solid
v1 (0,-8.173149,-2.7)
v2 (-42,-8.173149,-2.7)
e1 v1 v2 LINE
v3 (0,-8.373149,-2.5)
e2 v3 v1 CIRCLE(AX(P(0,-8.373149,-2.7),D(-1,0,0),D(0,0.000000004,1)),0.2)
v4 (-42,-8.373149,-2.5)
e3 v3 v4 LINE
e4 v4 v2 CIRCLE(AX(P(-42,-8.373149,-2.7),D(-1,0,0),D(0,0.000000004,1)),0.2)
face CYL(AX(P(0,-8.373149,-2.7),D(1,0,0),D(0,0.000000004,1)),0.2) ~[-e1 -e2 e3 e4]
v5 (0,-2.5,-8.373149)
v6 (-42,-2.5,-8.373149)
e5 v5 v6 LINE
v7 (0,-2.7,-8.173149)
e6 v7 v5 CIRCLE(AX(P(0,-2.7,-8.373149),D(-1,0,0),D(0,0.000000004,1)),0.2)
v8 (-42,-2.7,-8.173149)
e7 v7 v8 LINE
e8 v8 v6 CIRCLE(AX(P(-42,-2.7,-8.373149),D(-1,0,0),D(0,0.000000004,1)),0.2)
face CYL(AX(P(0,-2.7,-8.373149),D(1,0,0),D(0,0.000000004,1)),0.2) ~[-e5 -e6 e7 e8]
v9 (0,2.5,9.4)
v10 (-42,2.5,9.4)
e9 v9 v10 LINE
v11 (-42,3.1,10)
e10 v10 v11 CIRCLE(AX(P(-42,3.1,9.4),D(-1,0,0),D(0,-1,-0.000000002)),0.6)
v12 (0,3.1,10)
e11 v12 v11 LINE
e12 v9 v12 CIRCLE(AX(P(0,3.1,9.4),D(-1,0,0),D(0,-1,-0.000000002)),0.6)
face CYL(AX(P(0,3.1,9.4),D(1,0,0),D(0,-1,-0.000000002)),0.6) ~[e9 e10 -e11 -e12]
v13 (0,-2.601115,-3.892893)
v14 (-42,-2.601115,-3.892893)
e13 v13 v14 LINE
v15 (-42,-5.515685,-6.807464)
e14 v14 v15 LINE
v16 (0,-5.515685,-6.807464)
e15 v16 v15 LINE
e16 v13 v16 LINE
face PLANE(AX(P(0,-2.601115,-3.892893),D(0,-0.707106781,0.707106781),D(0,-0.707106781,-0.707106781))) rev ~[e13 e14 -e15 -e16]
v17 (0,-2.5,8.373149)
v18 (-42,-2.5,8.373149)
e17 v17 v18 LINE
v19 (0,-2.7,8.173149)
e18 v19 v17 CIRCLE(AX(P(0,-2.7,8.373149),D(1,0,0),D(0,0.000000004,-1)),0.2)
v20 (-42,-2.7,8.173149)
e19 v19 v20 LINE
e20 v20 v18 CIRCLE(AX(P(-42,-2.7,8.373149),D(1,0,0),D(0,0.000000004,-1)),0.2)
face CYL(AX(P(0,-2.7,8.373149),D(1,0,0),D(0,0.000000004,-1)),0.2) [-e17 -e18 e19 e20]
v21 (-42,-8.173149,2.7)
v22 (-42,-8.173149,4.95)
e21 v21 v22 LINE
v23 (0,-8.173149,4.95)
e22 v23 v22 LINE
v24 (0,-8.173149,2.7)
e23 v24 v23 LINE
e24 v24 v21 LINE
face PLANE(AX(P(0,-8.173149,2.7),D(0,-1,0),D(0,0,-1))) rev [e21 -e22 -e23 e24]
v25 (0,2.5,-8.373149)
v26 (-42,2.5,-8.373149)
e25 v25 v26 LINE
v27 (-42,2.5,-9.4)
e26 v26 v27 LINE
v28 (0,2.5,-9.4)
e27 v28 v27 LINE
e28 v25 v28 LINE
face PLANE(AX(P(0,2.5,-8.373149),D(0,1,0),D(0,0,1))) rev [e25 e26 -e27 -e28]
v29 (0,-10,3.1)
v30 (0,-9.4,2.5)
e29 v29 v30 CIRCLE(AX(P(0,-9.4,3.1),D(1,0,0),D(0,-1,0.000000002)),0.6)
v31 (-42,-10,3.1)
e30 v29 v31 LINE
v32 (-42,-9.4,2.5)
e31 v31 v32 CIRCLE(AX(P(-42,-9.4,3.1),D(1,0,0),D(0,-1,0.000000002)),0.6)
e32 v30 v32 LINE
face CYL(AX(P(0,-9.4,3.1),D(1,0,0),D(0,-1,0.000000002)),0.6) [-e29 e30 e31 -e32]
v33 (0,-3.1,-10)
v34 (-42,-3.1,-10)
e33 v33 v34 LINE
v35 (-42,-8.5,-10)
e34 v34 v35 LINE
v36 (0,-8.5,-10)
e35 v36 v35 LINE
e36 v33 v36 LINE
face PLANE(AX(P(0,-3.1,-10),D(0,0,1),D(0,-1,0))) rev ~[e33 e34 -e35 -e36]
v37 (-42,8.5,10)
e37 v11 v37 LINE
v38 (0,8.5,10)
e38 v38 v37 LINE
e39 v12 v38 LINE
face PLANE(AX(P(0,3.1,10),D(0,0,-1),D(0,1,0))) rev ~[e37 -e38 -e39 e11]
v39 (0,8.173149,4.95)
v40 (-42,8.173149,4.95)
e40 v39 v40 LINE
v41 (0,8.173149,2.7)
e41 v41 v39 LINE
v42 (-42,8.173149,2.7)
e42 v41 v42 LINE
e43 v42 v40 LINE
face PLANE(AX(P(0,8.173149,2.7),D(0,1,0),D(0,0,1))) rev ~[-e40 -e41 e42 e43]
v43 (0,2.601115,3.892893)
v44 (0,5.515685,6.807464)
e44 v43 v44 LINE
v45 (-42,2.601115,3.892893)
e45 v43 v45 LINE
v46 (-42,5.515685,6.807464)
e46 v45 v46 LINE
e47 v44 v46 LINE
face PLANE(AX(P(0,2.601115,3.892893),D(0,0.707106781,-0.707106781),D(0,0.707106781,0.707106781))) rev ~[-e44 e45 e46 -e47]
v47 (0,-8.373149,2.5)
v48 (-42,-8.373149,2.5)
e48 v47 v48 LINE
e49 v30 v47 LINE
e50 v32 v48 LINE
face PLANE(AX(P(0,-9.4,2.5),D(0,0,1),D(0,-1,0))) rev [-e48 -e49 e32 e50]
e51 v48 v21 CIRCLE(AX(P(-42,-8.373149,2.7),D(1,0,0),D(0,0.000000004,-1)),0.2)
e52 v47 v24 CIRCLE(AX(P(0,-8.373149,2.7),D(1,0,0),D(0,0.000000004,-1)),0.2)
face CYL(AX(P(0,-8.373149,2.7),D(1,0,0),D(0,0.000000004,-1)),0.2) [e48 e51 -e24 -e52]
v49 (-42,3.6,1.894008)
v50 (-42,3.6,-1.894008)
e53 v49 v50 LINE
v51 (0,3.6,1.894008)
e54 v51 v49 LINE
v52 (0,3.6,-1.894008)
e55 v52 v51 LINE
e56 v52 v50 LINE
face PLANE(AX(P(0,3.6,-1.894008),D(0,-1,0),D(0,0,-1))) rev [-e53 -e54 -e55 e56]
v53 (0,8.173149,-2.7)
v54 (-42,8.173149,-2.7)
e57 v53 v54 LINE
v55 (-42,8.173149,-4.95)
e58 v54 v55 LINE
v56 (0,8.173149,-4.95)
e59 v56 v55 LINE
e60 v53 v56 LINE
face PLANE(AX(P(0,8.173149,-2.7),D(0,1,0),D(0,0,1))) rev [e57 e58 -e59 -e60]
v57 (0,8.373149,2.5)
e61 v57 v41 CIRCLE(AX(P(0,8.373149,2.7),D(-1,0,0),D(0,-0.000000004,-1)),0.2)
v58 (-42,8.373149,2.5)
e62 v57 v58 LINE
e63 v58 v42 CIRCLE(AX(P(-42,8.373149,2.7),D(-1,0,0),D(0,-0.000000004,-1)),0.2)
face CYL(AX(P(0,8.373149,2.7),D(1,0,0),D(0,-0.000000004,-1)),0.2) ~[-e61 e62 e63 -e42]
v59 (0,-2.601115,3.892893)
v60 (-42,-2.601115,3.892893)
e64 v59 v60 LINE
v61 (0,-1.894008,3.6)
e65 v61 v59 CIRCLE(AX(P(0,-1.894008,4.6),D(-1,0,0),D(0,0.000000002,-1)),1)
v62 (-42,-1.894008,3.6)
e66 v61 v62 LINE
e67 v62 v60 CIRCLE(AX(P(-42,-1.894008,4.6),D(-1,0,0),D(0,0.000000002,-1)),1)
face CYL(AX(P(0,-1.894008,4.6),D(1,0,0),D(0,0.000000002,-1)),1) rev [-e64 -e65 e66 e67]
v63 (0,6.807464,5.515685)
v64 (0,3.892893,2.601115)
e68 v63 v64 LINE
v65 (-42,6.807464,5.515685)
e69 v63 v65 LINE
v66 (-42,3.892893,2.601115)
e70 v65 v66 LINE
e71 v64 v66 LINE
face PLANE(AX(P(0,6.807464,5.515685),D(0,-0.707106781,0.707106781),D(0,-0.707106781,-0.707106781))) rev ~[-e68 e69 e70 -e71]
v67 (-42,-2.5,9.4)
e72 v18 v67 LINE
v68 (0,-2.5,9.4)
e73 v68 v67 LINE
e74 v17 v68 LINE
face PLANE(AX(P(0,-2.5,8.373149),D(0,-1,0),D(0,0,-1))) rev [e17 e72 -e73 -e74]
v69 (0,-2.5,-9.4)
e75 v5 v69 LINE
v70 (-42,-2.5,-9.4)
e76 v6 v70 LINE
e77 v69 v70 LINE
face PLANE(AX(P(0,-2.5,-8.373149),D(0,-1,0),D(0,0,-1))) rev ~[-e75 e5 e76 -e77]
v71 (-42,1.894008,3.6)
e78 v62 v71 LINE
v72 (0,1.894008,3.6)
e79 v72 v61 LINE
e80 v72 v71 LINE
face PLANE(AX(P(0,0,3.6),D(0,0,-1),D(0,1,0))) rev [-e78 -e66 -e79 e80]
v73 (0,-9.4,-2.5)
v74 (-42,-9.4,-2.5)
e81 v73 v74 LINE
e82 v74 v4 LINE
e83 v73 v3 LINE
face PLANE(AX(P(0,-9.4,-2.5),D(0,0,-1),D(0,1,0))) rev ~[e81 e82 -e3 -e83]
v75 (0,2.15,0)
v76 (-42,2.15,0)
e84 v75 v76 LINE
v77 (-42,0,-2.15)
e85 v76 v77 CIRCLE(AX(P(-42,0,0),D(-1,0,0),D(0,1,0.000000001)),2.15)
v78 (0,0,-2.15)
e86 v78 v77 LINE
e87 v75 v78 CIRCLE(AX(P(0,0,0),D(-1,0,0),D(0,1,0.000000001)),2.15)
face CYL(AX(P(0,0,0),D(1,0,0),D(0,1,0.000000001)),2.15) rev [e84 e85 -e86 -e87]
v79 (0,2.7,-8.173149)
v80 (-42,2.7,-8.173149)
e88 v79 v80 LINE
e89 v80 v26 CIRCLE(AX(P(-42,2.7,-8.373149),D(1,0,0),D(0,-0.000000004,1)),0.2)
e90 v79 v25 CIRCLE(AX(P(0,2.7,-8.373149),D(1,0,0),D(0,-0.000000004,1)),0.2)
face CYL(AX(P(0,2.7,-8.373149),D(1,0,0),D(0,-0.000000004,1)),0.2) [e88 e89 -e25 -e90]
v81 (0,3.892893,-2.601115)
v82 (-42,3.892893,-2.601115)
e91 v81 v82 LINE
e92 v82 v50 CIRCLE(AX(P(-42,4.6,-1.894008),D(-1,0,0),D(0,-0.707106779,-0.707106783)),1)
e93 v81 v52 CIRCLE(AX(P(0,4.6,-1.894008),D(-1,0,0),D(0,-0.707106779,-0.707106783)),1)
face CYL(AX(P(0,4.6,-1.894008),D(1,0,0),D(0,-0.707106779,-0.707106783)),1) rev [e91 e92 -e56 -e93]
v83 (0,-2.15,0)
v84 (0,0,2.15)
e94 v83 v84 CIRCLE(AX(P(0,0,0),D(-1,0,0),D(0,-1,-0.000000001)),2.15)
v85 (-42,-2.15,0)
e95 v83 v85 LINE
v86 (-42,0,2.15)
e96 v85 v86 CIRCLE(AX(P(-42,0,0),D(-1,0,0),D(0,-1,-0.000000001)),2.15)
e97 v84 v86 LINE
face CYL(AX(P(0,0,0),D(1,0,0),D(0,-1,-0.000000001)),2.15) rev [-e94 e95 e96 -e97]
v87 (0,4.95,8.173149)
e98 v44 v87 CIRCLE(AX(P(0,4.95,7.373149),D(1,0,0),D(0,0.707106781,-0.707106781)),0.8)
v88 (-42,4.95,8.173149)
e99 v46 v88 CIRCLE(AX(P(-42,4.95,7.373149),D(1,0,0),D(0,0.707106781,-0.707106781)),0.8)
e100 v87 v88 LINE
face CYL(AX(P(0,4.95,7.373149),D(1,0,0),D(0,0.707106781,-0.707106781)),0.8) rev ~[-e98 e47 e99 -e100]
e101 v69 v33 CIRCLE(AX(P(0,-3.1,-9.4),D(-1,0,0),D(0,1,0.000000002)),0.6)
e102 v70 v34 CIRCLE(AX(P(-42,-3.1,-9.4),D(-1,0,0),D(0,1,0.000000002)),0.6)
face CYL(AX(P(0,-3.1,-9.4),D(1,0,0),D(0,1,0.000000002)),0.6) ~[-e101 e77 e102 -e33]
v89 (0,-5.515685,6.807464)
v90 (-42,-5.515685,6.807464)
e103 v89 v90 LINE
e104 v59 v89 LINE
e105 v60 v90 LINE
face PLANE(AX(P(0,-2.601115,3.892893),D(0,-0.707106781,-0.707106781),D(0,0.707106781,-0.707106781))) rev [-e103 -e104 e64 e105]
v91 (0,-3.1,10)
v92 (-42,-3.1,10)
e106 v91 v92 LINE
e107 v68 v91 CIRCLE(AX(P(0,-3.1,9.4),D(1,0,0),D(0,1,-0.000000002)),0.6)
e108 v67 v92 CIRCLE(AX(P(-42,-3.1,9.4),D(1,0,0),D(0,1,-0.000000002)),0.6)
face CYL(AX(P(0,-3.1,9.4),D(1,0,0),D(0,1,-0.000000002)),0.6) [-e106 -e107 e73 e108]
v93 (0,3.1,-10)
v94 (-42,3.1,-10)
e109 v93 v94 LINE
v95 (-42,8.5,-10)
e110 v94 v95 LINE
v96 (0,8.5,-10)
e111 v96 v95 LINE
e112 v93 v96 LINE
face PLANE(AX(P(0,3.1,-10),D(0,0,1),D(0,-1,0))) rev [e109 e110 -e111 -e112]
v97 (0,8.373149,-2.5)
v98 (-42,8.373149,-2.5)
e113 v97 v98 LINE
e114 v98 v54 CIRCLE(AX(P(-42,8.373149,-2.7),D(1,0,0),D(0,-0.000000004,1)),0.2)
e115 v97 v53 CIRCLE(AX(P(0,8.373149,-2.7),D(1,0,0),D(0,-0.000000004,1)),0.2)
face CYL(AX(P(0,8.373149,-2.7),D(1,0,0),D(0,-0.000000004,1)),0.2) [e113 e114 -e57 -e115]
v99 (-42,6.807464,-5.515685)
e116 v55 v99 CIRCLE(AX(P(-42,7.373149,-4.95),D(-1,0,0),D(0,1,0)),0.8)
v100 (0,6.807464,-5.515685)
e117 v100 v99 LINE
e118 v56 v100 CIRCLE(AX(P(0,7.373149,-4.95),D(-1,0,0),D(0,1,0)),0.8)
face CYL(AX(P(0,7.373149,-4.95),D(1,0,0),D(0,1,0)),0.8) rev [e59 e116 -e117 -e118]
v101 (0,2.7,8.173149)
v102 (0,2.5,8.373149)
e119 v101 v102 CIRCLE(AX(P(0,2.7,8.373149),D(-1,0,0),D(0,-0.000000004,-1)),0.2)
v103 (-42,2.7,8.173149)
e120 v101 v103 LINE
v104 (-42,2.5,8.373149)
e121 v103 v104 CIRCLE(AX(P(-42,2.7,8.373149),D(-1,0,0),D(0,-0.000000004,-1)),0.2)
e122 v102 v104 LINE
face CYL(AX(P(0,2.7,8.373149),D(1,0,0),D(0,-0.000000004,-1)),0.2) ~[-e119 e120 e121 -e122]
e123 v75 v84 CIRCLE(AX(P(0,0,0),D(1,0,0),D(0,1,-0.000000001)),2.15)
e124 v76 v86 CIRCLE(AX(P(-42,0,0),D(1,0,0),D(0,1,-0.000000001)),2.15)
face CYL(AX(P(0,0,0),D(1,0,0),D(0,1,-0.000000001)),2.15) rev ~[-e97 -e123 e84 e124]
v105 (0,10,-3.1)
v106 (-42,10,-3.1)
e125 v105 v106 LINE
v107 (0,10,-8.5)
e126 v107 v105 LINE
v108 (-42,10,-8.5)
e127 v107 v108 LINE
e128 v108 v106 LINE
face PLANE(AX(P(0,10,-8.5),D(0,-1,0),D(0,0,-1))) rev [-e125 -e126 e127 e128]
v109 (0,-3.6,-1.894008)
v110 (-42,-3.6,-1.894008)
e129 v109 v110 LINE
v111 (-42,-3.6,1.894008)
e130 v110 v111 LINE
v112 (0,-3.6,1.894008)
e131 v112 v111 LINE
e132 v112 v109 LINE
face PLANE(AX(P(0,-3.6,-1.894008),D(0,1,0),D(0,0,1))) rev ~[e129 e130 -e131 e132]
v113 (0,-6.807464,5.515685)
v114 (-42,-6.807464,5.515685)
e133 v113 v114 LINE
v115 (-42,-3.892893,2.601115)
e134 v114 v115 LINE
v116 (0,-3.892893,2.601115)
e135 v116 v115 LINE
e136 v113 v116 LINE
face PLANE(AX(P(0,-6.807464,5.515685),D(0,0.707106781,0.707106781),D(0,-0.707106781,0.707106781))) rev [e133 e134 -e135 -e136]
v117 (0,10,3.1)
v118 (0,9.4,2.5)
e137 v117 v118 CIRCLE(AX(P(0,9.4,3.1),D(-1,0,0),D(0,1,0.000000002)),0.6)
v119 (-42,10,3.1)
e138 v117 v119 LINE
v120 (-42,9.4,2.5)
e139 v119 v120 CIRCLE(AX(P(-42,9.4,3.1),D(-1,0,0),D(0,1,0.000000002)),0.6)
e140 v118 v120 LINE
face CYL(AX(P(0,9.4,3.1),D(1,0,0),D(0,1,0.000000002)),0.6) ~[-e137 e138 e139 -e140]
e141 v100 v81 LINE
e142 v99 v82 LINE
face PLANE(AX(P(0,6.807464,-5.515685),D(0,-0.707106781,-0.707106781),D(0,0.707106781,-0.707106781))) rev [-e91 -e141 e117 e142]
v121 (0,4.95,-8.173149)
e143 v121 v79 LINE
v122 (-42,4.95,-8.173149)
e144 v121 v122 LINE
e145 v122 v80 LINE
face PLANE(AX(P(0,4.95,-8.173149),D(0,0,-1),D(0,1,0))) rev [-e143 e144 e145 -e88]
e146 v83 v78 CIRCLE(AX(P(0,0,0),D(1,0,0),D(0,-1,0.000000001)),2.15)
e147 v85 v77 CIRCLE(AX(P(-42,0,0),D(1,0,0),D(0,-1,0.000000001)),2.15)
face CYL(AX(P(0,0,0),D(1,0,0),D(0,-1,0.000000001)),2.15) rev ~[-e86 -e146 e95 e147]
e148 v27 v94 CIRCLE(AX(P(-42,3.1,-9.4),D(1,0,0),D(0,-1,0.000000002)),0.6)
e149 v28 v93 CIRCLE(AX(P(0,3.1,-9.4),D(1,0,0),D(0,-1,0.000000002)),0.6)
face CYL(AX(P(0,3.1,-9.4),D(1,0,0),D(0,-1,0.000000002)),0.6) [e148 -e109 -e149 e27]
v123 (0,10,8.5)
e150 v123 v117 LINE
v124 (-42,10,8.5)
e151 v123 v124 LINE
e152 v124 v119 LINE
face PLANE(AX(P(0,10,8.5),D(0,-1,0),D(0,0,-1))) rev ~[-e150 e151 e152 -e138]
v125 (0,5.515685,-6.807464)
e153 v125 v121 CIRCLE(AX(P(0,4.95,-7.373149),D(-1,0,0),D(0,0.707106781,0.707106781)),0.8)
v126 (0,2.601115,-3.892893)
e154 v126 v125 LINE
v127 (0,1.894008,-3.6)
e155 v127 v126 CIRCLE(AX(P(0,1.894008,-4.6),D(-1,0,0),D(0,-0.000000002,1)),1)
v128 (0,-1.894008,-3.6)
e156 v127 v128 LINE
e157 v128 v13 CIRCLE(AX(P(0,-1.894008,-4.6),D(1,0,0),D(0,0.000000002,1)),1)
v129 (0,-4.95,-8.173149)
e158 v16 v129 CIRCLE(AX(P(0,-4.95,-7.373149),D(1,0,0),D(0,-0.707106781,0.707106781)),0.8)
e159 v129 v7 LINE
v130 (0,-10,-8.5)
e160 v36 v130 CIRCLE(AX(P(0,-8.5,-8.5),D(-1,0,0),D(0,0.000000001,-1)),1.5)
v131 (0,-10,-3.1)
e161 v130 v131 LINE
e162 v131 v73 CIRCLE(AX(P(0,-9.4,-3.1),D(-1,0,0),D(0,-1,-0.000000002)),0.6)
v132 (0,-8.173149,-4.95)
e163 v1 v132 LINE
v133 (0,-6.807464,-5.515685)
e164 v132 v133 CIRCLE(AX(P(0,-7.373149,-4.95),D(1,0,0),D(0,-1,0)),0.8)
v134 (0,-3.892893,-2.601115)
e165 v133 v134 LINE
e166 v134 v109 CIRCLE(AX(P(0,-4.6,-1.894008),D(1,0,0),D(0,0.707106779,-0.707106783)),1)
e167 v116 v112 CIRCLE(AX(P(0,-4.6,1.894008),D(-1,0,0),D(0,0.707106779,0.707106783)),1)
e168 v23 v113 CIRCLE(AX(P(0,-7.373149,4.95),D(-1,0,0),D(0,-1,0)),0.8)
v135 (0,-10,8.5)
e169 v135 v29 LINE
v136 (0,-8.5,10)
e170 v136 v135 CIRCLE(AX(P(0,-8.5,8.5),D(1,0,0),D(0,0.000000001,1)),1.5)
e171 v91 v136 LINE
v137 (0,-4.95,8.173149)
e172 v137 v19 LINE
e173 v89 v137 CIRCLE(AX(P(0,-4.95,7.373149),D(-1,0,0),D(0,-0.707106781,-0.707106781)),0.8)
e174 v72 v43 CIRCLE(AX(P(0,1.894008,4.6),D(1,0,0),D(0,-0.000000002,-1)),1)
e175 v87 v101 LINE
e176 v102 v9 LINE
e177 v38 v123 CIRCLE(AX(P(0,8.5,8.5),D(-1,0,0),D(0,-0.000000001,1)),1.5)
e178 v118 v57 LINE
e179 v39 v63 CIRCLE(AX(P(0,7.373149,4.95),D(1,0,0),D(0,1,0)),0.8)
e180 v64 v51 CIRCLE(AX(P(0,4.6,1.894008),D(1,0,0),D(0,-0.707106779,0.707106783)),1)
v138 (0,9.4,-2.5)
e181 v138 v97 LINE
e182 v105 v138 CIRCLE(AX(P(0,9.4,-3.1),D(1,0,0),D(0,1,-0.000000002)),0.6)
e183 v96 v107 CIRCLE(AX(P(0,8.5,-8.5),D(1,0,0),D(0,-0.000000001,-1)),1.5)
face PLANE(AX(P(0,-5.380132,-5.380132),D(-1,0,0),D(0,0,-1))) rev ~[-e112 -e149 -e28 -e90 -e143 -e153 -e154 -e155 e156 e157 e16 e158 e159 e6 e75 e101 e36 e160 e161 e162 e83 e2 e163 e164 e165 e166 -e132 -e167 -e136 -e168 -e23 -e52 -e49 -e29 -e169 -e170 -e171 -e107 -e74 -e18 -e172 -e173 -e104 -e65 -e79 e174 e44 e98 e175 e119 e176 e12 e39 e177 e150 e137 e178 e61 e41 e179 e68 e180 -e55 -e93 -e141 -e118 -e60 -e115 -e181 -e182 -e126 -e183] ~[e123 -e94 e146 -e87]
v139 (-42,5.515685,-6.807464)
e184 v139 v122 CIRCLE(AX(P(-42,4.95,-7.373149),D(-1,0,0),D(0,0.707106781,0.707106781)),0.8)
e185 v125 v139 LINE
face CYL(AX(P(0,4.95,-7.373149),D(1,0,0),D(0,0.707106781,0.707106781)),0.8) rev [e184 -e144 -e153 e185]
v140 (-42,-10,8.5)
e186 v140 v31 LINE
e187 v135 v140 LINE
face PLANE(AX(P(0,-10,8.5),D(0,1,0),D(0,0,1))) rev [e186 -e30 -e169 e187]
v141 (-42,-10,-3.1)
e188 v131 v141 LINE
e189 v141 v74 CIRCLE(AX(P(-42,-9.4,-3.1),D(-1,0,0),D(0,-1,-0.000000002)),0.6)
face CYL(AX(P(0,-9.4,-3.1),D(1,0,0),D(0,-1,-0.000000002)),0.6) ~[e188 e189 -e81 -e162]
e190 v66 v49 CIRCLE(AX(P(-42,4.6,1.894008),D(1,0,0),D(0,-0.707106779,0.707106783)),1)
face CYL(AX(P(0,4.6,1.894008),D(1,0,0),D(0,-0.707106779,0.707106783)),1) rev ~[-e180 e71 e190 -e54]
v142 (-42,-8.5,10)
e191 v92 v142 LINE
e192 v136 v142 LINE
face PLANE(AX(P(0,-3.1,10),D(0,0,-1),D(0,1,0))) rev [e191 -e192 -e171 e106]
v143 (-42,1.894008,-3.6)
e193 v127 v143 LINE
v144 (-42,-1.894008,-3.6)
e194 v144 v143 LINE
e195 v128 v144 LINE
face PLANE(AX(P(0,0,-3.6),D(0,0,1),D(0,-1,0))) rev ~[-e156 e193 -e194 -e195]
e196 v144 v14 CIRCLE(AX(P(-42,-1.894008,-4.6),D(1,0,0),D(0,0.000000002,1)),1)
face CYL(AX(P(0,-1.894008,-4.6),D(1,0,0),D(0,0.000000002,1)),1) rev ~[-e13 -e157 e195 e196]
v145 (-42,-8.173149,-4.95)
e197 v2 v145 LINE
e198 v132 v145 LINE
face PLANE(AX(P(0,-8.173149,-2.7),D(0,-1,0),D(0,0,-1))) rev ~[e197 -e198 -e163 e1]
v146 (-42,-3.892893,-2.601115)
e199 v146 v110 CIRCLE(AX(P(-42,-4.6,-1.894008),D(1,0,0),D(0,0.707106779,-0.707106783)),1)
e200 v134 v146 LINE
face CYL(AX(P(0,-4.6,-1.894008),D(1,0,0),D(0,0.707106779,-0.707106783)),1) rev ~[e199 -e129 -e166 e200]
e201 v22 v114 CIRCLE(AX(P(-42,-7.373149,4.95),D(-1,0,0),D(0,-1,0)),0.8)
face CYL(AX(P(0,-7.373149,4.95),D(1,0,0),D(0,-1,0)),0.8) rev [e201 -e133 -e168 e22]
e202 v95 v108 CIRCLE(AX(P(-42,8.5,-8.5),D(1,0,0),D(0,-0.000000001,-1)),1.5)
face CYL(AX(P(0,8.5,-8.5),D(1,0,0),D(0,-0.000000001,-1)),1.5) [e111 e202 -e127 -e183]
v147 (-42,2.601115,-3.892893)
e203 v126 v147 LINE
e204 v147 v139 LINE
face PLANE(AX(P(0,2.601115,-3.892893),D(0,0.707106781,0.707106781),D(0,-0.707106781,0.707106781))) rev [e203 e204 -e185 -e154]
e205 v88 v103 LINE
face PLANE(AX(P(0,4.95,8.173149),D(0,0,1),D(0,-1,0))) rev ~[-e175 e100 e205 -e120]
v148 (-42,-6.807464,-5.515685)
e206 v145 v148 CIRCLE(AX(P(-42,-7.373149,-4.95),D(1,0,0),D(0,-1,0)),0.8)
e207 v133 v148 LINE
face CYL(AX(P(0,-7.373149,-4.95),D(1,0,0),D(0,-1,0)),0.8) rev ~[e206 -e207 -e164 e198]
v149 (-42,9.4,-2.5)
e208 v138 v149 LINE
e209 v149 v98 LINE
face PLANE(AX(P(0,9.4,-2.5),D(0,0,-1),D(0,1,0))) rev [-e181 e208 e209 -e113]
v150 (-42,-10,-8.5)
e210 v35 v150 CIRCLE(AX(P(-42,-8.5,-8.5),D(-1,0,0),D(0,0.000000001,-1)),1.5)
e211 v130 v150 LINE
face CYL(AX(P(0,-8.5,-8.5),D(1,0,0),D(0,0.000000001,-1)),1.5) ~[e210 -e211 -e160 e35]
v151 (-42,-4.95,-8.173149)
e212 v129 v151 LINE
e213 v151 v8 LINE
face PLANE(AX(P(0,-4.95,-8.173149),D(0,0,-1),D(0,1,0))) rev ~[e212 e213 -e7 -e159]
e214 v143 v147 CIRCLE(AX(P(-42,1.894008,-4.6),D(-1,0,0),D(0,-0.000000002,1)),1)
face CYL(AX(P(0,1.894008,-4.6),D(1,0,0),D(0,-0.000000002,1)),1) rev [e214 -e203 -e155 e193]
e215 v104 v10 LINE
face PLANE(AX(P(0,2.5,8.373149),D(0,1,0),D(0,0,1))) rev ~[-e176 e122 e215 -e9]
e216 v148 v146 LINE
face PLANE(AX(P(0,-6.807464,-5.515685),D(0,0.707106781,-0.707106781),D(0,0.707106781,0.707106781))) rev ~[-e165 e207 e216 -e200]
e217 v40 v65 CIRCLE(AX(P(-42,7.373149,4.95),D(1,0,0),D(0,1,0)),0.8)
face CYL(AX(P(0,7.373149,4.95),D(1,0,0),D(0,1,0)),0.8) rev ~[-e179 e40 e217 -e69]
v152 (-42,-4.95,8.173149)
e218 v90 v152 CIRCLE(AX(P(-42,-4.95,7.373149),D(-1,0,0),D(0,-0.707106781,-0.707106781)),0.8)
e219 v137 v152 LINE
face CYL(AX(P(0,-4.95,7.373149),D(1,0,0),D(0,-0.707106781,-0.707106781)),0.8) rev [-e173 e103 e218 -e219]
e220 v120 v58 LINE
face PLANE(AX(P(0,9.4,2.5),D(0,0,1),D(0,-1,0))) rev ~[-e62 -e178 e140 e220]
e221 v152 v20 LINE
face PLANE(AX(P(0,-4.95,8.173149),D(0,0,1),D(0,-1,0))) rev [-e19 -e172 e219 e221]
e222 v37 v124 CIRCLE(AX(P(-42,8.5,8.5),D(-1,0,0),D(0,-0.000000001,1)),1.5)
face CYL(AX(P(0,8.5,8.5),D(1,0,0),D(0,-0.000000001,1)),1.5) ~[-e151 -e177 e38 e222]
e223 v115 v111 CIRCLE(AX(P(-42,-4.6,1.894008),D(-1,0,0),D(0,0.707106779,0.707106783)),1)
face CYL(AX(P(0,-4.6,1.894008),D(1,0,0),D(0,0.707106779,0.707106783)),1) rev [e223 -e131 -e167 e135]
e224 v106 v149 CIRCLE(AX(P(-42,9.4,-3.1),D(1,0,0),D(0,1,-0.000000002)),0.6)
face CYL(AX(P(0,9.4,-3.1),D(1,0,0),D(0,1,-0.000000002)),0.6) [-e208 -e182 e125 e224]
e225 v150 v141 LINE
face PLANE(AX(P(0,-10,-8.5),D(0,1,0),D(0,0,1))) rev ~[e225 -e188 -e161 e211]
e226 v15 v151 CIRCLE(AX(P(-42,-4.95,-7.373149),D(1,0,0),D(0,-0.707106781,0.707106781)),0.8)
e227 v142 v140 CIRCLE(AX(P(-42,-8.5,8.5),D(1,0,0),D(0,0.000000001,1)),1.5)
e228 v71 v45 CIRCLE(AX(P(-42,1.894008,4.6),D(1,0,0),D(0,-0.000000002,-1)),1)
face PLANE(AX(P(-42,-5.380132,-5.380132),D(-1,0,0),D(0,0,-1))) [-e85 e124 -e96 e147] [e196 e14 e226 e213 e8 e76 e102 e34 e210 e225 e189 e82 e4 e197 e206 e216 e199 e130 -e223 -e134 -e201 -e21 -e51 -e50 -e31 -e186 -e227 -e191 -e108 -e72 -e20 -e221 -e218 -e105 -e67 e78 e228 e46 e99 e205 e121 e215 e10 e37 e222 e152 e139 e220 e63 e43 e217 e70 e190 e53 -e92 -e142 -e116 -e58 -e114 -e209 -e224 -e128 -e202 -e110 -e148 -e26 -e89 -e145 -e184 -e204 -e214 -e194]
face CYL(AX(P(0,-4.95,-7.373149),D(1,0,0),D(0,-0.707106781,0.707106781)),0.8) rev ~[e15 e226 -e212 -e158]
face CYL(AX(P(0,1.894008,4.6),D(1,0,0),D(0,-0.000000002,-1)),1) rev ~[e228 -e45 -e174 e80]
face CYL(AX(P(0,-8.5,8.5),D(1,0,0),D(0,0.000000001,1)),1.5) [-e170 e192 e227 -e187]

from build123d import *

# Parameters (mm, degrees)
BOSS_EXTRUDE1_DEPTH = 42


with BuildPart() as part:
    # Sketch3 → Boss-Extrude1 (new body)
    with BuildSketch(Plane(origin=(0, 0, 0), x_dir=(0, 0, -1), z_dir=(1, 0, 0))):
        with BuildLine():
            Line((-5.515685425, 6.807463915), (-2.601114729, 3.892893219))
            ThreePointArc((-2.601114729, 3.892893219), (-2.27669138, 3.676120467), (-1.894007948, 3.6))
            Line((-1.894007948, 3.6), (0, 3.6))
            Line((0, 3.6), (0, 2.15))
            ThreePointArc((0, 2.15), (-1.52027958, 1.52027958), (-2.15, 0))
            Line((-2.15, 0), (-3.6, 0))
            Line((-3.6, 0), (-3.6, 1.894007948))
            ThreePointArc((-3.6, 1.894007948), (-3.676120467, 2.27669138), (-3.892893219, 2.601114729))
            Line((-3.892893219, 2.601114729), (-6.807463915, 5.515685425))
            ThreePointArc((-6.807463915, 5.515685425), (-7.679296086, 5.689103626), (-8.17314934, 4.95))
            Line((-8.17314934, 4.95), (-8.17314934, 2.7))
            ThreePointArc((-8.17314934, 2.7), (-8.231727984, 2.558578644), (-8.37314934, 2.5))
            Line((-8.37314934, 2.5), (-9.4, 2.5))
            ThreePointArc((-9.4, 2.5), (-9.824264069, 2.675735931), (-10, 3.1))
            Line((-10, 3.1), (-10, 8.5))
            ThreePointArc((-10, 8.5), (-9.560660172, 9.560660172), (-8.5, 10))
            Line((-8.5, 10), (-3.1, 10))
            ThreePointArc((-3.1, 10), (-2.675735931, 9.824264069), (-2.5, 9.4))
            Line((-2.5, 9.4), (-2.5, 8.37314934))
            ThreePointArc((-2.5, 8.37314934), (-2.558578644, 8.231727984), (-2.7, 8.17314934))
            Line((-2.7, 8.17314934), (-4.95, 8.17314934))
            ThreePointArc((-4.95, 8.17314934), (-5.689103626, 7.679296086), (-5.515685425, 6.807463915))
        make_face()
    extrude(amount=-BOSS_EXTRUDE1_DEPTH)

    # Mirror1: part across plane


with BuildPart() as part_1:
    add(part.part)
    add(part.part.mirror(Plane.ZX))

    # Mirror2: part across plane


with BuildPart() as part_2:
    add(part_1.part)
    add(part_1.part.mirror(Plane.XY))


solid = part_2.part
